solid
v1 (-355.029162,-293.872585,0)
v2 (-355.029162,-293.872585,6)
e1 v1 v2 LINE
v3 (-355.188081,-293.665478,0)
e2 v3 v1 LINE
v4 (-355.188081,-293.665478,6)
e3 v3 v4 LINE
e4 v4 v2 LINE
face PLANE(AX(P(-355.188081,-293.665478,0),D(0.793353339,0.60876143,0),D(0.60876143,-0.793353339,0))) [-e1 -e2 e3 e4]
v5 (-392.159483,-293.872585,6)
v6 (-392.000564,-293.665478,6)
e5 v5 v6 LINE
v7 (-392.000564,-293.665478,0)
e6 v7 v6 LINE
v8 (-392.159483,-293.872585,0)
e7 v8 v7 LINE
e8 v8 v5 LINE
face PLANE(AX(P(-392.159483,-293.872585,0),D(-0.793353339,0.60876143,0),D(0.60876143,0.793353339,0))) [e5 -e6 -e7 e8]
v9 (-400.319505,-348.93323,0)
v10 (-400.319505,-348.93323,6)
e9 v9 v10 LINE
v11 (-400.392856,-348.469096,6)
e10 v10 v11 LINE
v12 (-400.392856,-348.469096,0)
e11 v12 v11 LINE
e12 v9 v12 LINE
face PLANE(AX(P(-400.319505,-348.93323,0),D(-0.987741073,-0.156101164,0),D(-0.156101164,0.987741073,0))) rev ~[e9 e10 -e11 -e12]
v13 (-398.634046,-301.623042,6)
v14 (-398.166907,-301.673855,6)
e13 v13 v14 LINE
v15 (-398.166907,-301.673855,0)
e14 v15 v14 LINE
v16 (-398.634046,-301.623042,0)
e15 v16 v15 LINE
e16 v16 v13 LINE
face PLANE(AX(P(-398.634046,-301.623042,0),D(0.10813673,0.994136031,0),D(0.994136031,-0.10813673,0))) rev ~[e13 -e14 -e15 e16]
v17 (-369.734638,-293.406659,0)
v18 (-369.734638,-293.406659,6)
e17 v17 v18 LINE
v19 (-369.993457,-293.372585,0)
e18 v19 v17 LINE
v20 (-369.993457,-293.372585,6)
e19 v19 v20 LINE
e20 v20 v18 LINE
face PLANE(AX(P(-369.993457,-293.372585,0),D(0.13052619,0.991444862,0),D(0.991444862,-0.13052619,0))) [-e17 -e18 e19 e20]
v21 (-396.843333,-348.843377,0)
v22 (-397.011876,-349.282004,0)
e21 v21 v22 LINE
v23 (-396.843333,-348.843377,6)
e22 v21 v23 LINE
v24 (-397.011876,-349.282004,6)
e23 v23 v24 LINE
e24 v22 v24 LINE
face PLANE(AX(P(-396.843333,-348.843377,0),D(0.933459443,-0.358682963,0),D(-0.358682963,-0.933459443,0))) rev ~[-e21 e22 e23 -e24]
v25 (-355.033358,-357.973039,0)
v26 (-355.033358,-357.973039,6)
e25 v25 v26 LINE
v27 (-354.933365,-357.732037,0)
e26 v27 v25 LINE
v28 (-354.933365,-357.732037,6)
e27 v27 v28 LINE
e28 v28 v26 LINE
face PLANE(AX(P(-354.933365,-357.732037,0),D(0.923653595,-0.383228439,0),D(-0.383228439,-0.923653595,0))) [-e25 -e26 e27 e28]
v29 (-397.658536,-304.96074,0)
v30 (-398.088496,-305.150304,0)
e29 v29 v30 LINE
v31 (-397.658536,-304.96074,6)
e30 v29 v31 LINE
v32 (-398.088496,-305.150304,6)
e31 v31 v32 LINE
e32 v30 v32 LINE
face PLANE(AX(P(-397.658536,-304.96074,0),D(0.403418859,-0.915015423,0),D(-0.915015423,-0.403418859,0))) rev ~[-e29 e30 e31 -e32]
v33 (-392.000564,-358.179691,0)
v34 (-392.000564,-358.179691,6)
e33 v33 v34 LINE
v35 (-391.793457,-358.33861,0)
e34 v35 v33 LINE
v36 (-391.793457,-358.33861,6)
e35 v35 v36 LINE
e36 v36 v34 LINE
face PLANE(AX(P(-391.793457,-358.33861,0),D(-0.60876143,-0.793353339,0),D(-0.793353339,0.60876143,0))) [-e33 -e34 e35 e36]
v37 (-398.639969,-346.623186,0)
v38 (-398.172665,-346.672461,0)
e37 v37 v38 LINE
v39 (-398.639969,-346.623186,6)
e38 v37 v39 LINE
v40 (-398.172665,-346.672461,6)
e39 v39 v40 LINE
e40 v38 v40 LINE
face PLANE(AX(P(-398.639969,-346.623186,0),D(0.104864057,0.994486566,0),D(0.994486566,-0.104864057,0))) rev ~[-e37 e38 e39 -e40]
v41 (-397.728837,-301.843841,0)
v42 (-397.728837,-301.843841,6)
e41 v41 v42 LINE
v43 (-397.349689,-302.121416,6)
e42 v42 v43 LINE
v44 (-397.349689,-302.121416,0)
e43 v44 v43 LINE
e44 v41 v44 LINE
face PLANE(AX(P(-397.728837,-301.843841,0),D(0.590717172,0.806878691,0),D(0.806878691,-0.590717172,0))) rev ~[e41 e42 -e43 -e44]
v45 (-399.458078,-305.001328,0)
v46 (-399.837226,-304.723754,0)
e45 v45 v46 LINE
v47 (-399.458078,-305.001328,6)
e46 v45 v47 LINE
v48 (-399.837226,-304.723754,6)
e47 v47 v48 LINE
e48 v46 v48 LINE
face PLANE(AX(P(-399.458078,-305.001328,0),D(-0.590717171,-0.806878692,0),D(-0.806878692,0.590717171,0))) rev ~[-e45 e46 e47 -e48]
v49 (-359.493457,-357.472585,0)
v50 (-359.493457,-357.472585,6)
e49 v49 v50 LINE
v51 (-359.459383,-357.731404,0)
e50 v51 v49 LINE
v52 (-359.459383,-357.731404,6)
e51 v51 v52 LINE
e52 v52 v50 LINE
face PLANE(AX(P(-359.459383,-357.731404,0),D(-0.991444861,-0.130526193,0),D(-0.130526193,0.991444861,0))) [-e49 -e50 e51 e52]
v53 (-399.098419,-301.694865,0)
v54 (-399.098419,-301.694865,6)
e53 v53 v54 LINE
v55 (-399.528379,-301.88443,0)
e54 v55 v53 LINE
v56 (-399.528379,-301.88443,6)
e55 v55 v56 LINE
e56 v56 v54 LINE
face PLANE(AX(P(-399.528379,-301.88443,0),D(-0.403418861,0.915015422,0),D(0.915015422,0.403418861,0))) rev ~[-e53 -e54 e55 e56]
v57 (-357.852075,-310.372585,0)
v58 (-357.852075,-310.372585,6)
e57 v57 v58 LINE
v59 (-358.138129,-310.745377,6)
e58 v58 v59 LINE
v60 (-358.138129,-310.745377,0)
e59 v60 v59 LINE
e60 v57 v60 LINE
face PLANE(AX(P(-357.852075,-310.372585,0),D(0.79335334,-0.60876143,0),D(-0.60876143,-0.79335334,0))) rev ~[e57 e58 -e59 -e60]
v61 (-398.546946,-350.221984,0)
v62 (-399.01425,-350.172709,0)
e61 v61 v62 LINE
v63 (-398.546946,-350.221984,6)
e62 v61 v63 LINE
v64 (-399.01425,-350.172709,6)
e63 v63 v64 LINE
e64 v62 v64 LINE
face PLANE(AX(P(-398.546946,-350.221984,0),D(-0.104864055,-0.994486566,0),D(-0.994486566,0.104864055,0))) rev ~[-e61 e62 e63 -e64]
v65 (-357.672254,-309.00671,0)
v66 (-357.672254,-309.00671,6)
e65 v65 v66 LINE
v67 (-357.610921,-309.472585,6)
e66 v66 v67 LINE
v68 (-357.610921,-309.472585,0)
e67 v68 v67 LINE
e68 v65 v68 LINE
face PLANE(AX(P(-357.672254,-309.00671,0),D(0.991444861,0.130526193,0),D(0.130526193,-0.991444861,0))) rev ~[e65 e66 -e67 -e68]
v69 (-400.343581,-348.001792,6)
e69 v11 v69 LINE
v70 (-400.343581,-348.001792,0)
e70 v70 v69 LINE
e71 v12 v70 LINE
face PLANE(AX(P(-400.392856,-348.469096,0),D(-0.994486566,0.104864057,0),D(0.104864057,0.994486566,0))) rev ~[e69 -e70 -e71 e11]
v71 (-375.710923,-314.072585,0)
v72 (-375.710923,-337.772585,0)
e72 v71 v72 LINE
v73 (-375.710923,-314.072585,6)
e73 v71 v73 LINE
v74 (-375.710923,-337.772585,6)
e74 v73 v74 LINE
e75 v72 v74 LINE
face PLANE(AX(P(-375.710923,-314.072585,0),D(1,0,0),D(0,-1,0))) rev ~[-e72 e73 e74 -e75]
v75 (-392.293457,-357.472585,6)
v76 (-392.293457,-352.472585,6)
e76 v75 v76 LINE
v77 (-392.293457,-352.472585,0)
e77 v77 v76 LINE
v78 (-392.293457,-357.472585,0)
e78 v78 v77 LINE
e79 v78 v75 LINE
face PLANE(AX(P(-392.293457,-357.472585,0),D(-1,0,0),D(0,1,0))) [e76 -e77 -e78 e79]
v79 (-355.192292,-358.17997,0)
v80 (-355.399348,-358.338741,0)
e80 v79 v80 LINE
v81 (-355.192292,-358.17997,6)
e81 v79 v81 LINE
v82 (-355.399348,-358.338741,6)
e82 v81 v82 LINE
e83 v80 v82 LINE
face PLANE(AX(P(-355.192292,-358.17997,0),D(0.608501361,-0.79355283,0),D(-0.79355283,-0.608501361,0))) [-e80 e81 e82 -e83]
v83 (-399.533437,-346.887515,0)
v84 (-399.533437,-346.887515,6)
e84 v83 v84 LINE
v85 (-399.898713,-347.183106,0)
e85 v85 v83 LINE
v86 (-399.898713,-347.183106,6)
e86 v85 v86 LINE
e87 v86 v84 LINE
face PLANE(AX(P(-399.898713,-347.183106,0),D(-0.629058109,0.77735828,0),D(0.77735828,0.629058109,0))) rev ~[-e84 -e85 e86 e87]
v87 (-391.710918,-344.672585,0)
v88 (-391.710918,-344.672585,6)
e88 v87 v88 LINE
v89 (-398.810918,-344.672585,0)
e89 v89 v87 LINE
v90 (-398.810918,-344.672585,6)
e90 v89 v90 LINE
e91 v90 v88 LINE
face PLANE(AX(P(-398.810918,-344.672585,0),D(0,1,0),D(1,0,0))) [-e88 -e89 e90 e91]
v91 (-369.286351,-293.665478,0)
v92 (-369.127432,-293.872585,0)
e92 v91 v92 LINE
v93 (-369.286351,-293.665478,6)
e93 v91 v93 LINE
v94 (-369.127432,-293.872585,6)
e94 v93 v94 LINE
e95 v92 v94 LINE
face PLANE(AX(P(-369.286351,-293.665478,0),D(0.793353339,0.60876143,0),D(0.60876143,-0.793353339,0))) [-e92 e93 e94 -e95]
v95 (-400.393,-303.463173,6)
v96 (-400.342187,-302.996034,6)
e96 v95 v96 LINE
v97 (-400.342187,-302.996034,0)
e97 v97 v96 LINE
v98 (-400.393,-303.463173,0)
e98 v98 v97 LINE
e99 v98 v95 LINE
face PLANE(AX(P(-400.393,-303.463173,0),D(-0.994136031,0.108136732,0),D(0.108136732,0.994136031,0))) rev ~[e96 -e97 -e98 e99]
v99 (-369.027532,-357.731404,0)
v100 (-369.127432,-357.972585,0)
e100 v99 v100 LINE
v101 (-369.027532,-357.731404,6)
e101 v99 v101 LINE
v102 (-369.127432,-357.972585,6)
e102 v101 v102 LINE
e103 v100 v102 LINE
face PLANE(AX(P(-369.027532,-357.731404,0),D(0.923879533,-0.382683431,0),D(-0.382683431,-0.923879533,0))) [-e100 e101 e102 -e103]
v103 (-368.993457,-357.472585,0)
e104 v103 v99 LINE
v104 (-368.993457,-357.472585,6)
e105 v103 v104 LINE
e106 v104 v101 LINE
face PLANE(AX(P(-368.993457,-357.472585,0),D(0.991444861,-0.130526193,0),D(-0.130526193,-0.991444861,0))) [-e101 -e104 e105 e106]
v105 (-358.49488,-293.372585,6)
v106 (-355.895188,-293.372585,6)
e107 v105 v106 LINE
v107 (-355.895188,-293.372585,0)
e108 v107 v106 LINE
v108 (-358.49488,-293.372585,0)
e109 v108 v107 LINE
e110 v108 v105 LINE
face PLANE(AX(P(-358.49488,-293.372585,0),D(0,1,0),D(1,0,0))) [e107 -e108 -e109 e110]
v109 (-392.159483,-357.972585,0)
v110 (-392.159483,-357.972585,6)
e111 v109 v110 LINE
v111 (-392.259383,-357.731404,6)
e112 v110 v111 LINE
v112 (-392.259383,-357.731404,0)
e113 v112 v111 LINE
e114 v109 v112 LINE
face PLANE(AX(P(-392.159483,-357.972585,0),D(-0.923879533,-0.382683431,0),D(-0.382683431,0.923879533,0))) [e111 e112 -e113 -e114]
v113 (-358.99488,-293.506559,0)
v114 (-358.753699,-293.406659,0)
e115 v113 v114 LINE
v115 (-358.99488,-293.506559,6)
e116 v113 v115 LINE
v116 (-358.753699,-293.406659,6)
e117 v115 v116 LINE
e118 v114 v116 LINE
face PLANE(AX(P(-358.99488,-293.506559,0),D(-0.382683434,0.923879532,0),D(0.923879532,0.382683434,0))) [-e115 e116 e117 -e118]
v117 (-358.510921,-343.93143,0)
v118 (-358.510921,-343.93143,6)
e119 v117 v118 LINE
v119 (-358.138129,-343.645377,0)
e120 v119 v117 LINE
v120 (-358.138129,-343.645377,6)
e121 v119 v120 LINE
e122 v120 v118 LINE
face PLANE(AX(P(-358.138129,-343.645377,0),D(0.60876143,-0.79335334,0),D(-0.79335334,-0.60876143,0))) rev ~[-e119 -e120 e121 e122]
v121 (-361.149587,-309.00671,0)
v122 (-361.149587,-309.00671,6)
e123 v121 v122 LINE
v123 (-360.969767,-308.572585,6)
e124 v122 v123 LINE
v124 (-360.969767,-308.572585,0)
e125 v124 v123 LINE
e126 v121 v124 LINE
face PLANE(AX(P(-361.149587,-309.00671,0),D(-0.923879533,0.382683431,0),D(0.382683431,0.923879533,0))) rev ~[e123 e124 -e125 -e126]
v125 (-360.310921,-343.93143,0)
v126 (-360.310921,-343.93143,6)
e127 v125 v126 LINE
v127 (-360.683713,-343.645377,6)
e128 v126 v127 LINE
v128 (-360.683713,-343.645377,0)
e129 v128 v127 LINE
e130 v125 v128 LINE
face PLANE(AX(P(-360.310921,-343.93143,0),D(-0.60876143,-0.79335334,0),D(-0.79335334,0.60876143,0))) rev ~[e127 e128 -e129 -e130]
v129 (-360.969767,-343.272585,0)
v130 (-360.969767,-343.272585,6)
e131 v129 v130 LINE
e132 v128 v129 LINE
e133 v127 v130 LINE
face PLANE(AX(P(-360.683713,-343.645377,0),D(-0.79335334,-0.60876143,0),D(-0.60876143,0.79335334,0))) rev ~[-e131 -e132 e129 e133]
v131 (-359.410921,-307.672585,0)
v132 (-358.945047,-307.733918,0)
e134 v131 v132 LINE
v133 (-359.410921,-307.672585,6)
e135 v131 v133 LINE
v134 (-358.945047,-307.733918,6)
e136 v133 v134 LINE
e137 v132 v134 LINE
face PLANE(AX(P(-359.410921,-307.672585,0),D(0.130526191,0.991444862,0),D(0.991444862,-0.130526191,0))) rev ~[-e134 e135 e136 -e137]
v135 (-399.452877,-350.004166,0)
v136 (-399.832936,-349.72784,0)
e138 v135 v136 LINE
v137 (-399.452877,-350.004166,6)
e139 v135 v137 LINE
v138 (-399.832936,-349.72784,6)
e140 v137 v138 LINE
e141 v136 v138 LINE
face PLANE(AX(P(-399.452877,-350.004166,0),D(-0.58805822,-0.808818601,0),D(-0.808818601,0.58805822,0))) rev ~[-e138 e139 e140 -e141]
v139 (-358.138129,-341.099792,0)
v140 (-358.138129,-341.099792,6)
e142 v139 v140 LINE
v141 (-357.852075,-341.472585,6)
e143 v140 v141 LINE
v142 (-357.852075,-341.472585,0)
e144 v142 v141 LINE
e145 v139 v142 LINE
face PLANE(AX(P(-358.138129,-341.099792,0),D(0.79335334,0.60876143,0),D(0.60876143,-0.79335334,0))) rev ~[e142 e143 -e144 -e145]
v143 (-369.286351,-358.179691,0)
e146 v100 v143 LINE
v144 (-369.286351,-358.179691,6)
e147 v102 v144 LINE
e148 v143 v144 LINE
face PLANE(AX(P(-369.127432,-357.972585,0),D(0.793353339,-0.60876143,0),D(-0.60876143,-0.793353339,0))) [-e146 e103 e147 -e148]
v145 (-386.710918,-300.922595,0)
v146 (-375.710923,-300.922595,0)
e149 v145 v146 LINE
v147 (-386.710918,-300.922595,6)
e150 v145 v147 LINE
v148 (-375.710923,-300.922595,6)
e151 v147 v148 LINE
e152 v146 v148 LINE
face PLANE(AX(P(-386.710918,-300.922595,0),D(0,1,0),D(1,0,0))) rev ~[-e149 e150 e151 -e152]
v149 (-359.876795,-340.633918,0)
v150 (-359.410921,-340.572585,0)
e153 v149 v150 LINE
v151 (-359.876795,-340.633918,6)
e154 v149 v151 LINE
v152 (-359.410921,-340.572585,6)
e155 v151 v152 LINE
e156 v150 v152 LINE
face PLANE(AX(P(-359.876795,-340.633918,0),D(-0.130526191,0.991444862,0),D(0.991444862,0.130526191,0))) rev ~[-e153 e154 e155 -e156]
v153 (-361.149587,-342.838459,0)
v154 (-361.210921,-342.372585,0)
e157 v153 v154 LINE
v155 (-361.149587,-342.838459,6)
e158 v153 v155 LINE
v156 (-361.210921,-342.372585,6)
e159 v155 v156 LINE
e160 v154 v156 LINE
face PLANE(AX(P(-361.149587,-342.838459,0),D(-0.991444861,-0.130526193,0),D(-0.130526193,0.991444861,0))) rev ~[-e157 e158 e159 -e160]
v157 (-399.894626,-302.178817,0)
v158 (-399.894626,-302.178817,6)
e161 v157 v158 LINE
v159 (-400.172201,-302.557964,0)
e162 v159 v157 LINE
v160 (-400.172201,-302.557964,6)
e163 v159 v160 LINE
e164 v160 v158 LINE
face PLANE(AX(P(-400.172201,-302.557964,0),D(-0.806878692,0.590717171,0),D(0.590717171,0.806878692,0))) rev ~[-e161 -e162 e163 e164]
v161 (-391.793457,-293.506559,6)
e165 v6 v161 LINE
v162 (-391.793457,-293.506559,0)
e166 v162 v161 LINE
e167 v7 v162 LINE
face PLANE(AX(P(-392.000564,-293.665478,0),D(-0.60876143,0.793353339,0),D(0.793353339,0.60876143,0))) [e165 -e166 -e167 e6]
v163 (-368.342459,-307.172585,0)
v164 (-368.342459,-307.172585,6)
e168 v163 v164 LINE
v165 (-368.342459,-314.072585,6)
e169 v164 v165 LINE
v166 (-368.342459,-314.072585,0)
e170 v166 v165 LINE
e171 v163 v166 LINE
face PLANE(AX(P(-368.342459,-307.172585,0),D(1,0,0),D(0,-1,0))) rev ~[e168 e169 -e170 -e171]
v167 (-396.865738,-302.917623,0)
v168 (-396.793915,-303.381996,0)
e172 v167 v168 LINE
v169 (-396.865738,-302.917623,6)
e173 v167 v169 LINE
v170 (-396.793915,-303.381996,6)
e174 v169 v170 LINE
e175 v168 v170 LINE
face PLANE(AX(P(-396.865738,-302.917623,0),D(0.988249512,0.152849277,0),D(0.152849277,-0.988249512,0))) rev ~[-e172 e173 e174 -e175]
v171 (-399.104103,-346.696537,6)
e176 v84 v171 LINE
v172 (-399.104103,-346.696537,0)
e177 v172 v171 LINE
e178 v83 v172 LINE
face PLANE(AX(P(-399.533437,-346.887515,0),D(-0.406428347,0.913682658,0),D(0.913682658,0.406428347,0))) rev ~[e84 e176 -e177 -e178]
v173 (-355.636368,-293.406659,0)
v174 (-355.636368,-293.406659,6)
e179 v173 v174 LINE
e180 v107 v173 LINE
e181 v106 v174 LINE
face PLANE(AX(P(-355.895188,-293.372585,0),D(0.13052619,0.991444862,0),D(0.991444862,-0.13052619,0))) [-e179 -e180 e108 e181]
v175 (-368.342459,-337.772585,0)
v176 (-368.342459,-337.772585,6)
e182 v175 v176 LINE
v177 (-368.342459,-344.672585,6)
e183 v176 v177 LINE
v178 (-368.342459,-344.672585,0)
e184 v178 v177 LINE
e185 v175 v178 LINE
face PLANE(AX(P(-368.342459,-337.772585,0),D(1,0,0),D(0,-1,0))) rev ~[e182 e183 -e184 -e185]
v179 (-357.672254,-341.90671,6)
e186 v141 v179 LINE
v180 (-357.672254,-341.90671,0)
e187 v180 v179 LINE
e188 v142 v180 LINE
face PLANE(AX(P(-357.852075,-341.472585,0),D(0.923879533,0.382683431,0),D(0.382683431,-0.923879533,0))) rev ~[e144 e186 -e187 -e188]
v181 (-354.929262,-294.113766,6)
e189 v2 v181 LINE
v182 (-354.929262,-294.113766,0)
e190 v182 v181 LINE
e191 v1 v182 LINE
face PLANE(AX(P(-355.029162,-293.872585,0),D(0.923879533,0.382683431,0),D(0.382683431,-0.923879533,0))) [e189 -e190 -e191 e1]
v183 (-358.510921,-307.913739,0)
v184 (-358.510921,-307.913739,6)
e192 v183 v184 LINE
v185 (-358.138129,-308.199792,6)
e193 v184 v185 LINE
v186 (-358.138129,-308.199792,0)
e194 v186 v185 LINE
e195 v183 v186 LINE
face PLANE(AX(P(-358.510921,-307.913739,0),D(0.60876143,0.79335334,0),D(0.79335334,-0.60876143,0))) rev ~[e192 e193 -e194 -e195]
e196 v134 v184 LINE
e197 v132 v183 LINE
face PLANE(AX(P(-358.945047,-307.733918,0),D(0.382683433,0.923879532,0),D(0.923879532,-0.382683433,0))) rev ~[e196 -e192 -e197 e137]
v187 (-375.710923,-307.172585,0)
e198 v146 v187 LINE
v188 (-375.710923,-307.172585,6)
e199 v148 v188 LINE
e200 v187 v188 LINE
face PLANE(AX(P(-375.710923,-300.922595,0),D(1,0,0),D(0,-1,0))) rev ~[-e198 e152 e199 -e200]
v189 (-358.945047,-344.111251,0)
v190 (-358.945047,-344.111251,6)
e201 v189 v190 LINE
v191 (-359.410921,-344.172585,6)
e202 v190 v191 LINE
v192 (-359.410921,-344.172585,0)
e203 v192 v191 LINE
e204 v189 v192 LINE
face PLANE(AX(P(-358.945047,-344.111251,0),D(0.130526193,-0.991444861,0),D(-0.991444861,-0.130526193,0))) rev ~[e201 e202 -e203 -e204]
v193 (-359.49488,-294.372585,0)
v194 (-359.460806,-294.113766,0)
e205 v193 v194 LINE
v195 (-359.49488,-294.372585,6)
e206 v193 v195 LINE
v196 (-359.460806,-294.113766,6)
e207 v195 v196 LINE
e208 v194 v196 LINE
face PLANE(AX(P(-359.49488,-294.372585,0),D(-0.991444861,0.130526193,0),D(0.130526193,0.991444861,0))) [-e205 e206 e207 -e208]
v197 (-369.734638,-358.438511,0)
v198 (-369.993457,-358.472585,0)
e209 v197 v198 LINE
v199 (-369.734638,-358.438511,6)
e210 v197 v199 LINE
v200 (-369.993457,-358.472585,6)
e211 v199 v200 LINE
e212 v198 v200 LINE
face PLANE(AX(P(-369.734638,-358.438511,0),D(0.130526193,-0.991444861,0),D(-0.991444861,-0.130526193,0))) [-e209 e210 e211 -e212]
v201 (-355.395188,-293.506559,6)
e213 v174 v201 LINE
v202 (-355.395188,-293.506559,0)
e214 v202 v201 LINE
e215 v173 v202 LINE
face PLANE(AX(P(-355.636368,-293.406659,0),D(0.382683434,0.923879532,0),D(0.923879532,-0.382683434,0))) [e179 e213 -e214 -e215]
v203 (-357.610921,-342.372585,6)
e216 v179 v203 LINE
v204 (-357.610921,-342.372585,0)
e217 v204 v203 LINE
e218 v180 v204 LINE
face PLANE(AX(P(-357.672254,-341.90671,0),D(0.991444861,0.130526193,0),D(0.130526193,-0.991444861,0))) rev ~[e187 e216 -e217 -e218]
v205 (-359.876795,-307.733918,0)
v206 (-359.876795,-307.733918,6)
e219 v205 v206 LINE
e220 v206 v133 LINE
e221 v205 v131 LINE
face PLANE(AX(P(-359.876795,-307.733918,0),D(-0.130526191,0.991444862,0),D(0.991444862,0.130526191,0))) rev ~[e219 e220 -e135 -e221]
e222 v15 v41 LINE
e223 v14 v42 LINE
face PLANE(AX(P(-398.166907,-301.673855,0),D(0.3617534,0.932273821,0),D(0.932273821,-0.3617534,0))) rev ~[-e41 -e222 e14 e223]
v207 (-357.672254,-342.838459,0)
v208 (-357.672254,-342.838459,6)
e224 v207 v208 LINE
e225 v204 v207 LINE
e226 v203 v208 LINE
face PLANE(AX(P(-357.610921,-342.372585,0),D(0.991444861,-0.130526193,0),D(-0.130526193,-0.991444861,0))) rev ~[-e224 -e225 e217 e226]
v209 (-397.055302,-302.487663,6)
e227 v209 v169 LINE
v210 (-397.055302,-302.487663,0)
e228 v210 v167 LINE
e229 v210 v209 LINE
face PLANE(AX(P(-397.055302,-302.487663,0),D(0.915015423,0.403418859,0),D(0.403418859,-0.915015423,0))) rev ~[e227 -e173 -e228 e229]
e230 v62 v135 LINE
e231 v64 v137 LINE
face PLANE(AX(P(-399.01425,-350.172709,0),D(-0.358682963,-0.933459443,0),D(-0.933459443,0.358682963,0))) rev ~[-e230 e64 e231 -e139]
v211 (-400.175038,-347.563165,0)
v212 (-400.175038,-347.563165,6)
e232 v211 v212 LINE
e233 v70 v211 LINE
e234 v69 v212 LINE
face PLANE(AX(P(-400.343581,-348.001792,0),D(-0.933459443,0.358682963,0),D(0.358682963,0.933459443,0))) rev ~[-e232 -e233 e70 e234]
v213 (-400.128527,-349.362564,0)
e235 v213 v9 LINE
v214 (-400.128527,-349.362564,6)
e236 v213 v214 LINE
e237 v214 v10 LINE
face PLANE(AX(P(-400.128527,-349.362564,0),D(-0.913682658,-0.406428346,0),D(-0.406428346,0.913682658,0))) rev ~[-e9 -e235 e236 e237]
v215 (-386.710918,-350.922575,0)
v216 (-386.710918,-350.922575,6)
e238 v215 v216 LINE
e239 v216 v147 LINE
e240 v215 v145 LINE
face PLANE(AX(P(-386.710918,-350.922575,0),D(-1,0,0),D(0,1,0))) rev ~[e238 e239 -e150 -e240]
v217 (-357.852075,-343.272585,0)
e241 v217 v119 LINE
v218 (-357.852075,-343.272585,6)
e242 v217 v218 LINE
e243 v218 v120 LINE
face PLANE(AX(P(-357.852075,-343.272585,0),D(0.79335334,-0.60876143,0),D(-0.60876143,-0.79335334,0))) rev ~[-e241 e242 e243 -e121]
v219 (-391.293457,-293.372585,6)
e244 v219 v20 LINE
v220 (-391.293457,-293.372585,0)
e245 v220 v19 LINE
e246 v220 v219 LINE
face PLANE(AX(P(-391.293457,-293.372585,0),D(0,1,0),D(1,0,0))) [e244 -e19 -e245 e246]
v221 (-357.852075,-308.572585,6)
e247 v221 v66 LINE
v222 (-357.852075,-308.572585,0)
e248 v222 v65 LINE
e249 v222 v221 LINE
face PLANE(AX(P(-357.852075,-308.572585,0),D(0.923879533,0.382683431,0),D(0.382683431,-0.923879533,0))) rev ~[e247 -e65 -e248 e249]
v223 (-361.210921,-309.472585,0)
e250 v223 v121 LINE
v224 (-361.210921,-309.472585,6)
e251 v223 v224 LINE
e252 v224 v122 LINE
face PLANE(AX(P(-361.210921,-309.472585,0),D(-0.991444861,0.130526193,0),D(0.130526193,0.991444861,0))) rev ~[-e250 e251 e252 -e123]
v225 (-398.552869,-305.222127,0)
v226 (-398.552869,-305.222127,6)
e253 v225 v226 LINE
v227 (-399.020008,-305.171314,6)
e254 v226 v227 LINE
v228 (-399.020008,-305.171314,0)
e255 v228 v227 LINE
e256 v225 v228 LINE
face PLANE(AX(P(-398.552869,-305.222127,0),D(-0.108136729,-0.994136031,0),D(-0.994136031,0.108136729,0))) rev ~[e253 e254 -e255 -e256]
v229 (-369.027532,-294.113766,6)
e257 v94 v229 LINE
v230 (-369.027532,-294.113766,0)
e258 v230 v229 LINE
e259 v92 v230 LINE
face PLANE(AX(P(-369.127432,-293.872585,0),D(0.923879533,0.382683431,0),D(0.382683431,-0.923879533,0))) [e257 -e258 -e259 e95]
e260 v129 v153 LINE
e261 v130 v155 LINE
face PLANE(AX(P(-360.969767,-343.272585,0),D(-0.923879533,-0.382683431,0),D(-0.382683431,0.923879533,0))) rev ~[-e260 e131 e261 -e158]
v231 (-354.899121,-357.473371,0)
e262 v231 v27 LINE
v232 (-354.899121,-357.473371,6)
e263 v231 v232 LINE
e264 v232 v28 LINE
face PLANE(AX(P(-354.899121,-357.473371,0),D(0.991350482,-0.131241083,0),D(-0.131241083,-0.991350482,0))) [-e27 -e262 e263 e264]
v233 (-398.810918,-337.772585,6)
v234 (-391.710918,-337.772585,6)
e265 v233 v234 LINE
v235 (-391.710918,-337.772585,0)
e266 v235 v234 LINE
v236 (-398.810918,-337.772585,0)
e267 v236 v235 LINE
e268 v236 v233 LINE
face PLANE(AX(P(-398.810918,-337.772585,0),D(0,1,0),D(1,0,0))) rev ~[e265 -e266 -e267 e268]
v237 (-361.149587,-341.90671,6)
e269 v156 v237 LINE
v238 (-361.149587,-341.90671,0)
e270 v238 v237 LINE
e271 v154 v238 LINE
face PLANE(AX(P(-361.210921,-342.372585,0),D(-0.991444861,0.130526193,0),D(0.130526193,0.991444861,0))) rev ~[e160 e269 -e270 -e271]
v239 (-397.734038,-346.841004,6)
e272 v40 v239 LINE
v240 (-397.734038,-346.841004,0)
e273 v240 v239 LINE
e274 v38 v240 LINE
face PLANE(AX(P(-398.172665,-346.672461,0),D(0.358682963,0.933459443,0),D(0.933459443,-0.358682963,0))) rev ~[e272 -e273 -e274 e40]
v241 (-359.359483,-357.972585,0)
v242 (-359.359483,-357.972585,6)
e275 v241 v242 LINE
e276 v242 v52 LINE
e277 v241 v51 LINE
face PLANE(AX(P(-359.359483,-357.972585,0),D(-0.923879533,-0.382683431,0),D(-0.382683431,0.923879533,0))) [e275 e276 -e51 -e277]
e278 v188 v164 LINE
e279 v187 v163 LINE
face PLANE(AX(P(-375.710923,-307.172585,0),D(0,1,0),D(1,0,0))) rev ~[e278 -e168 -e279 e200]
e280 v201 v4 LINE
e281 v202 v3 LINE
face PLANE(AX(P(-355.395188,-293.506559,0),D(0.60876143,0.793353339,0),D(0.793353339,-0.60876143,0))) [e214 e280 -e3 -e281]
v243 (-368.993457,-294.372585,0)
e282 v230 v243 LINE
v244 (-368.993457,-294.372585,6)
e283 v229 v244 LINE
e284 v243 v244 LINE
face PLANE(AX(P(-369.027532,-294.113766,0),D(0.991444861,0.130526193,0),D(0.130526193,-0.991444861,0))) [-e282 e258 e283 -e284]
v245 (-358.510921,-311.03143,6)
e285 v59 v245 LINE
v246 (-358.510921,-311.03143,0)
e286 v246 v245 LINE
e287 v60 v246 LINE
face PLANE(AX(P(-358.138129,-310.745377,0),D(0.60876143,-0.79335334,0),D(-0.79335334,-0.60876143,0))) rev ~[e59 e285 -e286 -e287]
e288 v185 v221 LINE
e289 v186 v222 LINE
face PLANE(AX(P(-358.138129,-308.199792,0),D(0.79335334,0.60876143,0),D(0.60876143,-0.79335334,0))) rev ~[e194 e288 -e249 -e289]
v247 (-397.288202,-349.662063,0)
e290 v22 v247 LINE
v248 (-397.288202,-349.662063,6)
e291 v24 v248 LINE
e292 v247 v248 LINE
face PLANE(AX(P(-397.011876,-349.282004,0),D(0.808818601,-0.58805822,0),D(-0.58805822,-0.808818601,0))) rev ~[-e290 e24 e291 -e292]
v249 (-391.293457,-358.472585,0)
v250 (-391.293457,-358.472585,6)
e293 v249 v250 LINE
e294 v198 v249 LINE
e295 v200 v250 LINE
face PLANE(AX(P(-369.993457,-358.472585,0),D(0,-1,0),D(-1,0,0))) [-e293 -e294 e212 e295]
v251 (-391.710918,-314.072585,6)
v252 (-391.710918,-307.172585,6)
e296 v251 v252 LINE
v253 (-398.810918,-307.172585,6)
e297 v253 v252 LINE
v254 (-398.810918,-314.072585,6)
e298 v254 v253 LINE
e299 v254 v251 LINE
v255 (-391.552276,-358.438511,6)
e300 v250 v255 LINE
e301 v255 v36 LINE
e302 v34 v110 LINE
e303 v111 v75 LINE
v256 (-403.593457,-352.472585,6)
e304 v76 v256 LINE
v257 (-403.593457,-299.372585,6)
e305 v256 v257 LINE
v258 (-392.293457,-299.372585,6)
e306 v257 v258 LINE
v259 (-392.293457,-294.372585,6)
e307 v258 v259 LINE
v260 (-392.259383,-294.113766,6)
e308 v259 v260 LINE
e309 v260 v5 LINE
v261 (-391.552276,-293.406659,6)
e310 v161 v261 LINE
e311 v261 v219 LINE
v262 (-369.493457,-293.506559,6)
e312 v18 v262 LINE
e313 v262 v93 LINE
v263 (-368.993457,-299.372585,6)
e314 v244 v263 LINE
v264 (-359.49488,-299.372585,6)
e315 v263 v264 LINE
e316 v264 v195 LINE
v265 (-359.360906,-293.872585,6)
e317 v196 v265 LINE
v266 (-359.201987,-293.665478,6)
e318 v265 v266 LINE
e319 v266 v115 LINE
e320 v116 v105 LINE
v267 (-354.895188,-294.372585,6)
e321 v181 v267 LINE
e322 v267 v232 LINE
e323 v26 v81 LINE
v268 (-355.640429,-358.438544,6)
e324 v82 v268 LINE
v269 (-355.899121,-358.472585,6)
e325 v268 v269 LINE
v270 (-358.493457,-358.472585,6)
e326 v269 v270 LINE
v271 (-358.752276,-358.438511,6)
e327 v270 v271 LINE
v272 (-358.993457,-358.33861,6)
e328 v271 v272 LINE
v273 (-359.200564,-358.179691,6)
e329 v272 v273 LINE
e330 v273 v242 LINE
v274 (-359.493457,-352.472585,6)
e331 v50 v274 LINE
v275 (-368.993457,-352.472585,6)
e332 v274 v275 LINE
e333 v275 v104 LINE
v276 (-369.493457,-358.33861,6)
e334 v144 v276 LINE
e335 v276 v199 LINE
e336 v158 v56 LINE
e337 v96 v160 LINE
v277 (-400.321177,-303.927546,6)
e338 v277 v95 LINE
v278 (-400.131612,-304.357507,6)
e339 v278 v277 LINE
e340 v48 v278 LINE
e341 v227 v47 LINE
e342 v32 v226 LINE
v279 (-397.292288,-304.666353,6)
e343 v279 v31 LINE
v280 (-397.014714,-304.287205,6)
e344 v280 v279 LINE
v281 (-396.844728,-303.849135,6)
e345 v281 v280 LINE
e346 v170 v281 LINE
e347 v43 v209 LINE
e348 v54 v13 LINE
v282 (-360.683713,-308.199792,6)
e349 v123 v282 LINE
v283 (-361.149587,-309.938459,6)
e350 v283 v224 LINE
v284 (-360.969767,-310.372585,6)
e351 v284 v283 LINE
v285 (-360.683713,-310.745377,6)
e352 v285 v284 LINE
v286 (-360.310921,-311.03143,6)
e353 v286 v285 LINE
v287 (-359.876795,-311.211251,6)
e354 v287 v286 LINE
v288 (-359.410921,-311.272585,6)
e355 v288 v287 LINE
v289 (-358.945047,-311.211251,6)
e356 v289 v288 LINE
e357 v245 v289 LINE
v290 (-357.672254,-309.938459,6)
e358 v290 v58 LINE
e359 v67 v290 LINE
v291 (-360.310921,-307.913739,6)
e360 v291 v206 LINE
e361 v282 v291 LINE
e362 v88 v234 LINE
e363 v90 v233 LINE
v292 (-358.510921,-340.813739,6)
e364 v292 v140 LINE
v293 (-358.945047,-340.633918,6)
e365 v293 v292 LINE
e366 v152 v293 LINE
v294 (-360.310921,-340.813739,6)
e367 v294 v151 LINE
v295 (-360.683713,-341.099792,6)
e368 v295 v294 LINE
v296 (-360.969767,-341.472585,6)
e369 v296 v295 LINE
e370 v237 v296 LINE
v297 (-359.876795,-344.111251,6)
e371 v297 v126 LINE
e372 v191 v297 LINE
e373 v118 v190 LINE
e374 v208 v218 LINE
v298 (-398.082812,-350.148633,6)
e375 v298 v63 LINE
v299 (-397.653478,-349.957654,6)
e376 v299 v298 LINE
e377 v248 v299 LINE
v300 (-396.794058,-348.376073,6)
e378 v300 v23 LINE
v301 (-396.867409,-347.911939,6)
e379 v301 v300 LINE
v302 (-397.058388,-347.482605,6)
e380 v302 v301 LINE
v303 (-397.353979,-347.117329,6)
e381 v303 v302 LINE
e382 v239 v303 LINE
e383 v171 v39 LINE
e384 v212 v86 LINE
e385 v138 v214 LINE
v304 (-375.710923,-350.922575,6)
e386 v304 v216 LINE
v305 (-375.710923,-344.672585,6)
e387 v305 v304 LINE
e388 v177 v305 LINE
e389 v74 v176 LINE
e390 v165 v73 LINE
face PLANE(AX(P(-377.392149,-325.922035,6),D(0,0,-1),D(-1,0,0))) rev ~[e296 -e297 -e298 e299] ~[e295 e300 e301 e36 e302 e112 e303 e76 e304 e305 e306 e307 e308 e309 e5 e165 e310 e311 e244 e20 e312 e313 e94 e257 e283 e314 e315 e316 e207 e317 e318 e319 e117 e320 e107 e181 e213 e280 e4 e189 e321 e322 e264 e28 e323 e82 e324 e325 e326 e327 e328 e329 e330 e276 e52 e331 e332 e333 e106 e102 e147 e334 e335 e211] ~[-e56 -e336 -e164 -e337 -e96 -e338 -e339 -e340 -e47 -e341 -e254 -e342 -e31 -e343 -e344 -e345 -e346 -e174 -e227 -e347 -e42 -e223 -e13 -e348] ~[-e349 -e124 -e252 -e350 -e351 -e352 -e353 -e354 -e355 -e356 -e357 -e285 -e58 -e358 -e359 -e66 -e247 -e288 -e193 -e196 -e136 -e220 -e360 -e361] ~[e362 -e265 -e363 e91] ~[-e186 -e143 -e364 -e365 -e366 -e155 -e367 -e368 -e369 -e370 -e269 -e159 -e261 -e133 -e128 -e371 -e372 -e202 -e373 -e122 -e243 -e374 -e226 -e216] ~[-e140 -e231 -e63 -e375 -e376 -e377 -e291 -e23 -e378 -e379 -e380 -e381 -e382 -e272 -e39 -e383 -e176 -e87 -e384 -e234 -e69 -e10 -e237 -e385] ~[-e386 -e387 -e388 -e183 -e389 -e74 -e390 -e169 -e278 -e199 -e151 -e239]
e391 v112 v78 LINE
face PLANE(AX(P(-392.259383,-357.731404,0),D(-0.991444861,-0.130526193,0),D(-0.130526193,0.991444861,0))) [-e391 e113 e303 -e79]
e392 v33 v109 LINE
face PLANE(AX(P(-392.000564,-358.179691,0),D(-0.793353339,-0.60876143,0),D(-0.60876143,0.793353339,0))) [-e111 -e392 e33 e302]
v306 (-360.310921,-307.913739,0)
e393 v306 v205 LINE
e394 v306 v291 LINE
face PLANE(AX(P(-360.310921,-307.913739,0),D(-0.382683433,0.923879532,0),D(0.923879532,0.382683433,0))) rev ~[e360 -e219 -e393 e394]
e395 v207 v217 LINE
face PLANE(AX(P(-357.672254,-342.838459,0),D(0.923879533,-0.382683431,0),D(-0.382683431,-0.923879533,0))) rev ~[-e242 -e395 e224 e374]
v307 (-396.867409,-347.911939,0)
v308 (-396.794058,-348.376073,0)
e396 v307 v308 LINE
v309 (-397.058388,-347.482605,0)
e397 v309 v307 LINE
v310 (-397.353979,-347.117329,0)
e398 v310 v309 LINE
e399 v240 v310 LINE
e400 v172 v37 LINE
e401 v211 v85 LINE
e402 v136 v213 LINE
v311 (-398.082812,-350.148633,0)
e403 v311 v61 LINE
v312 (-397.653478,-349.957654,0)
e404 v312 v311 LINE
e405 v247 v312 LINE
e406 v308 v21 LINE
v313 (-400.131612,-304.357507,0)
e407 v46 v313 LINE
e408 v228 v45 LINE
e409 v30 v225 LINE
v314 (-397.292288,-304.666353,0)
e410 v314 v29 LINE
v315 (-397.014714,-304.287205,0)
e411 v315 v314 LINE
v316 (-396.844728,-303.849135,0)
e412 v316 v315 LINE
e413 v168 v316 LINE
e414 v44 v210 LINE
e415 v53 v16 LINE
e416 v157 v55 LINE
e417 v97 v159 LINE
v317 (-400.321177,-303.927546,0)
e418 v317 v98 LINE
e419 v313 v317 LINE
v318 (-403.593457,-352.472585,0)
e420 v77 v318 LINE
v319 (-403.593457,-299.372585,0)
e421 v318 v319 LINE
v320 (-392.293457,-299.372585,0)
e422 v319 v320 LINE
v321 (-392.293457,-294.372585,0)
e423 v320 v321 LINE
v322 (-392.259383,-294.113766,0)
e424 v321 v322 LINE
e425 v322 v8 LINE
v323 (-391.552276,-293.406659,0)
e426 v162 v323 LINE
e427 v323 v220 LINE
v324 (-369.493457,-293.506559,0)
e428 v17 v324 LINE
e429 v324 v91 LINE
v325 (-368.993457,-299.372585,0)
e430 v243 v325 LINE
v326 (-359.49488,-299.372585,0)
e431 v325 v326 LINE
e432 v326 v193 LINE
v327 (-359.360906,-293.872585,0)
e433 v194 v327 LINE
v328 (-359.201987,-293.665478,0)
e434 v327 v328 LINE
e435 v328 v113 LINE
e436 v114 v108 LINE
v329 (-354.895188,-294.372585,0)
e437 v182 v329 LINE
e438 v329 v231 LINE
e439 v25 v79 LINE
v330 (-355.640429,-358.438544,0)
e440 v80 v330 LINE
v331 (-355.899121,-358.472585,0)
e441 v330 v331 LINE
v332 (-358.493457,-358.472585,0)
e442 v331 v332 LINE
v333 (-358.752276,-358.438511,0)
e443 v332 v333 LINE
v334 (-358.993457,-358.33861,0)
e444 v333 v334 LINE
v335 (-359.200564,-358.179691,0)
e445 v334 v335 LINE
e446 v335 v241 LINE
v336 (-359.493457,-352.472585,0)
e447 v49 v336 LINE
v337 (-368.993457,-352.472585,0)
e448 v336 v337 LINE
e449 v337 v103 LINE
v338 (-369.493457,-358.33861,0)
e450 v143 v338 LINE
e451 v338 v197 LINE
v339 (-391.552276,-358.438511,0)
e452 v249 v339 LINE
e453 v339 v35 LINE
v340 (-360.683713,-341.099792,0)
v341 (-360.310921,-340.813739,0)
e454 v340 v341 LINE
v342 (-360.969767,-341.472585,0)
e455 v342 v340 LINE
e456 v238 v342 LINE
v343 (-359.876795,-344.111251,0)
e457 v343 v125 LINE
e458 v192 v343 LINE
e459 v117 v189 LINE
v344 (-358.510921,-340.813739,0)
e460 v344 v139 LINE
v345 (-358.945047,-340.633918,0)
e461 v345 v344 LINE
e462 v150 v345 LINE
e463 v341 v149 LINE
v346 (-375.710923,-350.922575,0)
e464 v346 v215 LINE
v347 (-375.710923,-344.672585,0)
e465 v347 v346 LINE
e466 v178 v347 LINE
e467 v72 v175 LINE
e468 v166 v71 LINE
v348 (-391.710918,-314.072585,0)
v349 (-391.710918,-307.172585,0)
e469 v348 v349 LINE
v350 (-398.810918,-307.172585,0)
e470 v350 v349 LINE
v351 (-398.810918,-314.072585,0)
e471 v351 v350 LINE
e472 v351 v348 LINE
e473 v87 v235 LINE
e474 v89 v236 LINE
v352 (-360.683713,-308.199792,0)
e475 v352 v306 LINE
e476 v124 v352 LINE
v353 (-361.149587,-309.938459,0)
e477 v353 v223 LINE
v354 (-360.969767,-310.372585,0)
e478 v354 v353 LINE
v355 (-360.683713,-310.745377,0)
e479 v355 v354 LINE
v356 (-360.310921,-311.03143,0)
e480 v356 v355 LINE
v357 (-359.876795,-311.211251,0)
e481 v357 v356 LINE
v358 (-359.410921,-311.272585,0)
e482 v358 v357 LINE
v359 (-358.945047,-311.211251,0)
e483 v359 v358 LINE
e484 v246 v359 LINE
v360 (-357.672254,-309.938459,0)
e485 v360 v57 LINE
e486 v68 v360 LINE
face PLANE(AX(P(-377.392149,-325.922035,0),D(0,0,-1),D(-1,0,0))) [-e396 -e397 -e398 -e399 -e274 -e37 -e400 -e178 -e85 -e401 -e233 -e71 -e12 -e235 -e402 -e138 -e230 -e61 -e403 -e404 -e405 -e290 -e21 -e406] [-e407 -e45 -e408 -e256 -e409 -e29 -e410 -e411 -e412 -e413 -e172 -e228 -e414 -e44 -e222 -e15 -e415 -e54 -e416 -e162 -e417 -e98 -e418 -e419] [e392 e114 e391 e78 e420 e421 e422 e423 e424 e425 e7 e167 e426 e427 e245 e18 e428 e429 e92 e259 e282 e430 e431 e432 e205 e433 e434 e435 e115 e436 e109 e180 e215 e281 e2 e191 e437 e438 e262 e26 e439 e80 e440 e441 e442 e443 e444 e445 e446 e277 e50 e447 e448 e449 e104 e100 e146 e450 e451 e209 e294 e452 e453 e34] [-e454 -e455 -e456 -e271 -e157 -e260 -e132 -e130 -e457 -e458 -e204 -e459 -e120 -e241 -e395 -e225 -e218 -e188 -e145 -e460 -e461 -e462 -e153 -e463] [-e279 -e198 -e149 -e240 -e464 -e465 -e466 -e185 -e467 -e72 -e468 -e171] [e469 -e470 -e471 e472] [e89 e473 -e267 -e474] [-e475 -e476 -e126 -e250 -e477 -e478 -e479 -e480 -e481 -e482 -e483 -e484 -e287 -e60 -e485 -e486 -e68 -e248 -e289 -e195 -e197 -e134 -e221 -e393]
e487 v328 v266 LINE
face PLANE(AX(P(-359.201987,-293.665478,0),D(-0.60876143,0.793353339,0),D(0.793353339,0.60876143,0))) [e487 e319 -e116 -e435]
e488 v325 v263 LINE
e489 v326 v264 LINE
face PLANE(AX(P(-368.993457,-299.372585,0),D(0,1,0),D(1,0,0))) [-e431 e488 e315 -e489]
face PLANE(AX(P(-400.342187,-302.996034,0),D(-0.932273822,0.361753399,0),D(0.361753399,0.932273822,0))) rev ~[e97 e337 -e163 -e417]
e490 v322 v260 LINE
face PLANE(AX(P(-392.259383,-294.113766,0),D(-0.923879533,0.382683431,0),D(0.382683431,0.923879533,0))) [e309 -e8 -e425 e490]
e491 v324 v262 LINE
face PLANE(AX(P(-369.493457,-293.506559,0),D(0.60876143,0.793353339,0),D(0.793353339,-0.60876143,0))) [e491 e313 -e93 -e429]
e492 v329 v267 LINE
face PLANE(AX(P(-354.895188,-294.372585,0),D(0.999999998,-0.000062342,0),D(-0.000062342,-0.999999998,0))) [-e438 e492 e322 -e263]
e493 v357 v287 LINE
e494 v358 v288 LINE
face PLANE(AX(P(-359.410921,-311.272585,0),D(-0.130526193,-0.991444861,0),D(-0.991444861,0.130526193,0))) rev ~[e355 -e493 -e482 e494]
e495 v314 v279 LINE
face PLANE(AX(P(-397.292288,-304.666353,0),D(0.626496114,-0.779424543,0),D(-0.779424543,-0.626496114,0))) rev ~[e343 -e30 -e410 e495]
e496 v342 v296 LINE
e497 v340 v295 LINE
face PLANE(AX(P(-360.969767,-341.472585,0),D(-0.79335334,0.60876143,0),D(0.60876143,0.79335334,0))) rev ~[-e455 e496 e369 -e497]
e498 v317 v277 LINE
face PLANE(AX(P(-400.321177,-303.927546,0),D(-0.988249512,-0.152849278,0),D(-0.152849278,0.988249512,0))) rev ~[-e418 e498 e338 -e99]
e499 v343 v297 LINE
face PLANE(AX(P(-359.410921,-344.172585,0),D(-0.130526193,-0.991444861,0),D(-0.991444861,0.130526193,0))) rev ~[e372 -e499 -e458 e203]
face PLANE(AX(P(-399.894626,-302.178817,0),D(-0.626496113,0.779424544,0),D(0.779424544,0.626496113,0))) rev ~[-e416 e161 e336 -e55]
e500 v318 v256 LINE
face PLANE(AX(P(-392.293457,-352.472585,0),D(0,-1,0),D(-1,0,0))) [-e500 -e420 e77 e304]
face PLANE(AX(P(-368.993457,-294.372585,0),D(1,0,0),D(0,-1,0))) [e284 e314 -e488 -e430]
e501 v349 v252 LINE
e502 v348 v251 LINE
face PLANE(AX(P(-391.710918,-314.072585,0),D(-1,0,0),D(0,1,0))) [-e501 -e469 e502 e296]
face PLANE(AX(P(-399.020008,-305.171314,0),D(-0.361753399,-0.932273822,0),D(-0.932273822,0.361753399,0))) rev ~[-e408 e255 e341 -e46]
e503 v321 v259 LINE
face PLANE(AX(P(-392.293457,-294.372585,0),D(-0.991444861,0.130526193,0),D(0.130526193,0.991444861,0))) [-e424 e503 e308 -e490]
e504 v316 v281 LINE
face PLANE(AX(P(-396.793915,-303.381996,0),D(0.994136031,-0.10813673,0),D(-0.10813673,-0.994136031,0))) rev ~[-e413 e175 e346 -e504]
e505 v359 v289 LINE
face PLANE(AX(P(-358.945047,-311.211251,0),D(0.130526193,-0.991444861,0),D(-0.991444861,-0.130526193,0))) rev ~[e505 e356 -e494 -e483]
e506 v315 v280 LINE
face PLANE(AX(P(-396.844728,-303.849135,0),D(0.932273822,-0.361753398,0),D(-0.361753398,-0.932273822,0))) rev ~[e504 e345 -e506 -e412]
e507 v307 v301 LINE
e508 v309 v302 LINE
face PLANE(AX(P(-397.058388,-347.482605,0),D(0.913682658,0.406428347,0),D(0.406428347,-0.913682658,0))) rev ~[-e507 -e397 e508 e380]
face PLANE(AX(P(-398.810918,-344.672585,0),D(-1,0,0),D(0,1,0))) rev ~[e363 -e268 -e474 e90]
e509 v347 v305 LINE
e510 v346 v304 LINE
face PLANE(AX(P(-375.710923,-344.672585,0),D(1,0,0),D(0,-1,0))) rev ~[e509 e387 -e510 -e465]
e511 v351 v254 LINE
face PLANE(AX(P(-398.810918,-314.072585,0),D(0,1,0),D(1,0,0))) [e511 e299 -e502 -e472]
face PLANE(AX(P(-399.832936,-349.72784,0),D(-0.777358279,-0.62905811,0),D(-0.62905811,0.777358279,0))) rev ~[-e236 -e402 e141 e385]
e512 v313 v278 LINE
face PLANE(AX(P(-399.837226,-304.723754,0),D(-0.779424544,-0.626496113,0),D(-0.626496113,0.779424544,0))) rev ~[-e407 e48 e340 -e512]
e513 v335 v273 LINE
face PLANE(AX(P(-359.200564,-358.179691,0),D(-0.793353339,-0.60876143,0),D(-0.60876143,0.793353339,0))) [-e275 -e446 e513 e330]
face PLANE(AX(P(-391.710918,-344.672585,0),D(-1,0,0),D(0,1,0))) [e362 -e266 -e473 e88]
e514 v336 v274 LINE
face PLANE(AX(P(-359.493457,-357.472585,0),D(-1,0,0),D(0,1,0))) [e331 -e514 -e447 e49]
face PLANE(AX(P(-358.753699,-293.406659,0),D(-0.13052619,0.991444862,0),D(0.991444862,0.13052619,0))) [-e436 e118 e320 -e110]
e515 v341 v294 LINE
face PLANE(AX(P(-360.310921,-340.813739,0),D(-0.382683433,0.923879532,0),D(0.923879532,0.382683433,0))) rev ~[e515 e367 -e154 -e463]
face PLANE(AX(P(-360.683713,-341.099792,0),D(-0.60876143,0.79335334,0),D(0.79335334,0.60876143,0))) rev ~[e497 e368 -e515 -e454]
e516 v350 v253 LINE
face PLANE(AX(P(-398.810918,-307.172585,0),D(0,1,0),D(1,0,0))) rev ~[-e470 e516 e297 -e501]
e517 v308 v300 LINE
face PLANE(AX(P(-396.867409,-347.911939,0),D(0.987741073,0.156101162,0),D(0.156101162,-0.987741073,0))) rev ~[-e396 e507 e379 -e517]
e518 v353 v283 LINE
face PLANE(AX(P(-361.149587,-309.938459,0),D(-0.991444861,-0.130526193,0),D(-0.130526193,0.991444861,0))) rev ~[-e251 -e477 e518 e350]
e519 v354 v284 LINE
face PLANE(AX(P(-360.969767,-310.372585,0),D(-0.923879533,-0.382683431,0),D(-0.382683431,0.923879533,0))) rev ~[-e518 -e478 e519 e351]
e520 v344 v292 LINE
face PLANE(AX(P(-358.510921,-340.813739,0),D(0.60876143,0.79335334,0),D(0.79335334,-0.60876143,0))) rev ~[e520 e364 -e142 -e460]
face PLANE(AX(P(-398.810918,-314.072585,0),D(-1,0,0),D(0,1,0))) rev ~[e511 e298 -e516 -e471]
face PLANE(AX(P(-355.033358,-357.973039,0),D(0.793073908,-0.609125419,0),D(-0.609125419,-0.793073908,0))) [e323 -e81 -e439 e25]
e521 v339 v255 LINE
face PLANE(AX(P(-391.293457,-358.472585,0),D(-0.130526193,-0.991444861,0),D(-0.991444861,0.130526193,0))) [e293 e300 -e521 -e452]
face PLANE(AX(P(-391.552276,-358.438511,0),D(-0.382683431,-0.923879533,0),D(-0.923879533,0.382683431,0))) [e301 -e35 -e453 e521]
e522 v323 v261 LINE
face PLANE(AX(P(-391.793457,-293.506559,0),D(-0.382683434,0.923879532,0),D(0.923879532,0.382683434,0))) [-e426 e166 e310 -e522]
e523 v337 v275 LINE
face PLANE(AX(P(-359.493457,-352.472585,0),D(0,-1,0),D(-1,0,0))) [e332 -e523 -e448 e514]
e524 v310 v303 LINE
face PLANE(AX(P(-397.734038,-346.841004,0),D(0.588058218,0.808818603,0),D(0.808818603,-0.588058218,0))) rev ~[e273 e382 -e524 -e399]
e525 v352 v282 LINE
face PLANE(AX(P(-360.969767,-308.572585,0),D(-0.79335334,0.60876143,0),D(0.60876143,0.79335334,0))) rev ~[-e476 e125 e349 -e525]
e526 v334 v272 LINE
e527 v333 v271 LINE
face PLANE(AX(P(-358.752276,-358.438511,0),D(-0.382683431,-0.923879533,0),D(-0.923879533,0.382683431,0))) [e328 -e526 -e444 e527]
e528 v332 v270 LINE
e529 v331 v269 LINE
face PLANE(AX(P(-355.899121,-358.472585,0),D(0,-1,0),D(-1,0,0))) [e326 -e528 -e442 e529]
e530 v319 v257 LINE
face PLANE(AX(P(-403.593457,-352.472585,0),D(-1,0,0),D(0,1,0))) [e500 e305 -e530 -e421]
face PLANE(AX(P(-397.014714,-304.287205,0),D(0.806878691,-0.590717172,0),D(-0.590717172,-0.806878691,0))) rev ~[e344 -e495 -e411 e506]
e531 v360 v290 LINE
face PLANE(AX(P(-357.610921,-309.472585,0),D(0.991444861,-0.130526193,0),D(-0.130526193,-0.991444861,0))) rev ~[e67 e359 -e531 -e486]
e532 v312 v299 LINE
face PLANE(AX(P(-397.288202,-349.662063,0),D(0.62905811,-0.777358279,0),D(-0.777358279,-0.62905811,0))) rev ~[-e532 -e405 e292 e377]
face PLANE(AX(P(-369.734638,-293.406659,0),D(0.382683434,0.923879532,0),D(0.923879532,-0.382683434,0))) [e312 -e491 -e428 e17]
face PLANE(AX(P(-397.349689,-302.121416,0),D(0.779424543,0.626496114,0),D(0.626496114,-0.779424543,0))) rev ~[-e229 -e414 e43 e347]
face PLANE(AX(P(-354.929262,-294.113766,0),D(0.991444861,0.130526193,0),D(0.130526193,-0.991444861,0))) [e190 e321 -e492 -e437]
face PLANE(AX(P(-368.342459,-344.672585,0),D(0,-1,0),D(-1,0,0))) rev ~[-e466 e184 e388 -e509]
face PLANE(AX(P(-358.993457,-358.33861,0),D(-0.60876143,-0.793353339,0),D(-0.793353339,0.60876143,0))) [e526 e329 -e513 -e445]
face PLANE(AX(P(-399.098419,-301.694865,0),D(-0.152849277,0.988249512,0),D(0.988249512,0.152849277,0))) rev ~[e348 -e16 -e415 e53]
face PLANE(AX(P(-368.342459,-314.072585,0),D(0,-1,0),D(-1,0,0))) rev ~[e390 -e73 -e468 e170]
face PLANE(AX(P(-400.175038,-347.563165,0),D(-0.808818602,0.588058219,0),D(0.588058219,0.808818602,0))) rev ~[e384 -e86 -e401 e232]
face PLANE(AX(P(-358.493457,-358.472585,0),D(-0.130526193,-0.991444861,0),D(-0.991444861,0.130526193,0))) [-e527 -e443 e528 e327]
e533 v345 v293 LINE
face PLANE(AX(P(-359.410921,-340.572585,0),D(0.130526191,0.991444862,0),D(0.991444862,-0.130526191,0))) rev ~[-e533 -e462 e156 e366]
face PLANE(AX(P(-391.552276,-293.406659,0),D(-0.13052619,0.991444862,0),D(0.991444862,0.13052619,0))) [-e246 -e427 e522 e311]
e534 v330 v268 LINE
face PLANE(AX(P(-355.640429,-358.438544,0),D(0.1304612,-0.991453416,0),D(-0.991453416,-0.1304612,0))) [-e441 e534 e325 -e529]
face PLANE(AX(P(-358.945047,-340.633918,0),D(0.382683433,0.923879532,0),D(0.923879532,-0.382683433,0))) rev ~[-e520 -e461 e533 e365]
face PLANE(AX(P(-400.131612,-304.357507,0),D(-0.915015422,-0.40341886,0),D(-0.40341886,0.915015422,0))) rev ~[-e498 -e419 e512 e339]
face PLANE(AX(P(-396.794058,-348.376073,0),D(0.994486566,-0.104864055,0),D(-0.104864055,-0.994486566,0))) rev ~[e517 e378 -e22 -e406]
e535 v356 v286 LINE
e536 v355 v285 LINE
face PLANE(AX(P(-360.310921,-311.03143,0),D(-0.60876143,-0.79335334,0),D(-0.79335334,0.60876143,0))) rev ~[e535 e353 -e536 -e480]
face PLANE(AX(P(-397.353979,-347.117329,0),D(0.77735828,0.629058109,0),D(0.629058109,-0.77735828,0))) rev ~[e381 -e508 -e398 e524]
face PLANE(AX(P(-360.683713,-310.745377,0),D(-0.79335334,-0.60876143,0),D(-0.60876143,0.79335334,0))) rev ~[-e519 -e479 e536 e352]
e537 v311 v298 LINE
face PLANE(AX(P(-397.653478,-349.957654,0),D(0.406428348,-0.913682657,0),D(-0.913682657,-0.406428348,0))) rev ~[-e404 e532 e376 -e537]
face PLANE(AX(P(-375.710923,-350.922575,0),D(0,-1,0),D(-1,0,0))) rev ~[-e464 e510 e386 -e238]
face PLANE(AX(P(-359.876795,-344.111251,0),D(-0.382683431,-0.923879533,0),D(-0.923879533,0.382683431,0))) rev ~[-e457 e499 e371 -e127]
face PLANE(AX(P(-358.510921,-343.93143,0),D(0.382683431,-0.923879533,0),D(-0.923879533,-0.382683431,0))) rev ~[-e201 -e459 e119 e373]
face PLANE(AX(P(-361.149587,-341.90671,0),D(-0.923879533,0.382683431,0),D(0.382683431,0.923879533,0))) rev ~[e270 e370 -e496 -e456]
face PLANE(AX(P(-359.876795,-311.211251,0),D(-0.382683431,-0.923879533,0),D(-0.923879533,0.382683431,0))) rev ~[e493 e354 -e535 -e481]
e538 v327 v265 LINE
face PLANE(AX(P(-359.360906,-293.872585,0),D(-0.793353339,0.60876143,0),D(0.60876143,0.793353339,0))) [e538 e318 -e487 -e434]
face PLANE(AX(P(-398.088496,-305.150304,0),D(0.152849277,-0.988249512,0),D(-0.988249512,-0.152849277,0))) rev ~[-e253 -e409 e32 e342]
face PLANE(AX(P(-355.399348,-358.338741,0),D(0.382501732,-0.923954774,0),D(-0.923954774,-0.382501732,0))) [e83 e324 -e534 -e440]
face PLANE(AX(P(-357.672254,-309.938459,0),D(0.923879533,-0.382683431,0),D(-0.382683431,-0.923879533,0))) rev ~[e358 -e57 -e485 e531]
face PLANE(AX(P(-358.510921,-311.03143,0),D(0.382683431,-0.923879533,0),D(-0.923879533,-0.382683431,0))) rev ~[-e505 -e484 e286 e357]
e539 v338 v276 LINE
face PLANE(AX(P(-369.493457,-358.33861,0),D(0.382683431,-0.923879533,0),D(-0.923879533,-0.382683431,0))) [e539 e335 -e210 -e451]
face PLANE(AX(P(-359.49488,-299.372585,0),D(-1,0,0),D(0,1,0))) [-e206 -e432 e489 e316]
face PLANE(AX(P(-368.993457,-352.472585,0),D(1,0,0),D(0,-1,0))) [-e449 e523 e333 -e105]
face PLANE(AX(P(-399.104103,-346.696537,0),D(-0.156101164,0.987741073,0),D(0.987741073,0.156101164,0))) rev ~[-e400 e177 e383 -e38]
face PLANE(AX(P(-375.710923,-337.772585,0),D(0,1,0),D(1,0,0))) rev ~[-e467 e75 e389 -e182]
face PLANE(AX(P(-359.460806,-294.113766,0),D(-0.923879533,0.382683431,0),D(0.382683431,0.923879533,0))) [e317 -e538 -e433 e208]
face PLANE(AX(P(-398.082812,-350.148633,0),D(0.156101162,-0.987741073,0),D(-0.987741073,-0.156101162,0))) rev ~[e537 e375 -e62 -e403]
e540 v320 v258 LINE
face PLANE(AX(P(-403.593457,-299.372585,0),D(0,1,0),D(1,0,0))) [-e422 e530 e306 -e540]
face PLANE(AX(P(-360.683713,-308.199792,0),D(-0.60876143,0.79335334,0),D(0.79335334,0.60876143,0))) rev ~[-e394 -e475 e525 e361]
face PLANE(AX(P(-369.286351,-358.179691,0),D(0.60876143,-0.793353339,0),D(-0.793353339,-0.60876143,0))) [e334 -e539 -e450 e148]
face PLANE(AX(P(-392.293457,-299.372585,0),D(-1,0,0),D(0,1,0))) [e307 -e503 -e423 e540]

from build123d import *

# Parameters (mm, degrees)
SKETCH1_W           = 7.1
SKETCH1_H           = 6.9
BOSS_EXTRUDE1_DEPTH = 6


with BuildPart() as part:
    # Sketch1 → Boss-Extrude1 (new body)
    with BuildSketch(Plane.XY):
        Polygon((-358.994880286, -293.50655928), (-358.753699331, -293.406658857), (-358.494880286, -293.372584684), (-355.895187501, -293.372584684), (-355.636368456, -293.406658857), (-355.395187501, -293.50655928), (-355.18808072, -293.665477903), (-355.029162097, -293.872584684), (-354.929261675, -294.113765639), (-354.895187501, -294.372584684), (-354.899121361, -357.473371332), (-354.933365099, -357.732036876), (-355.033357982, -357.973038786), (-355.192292447, -358.179969532), (-355.399348154, -358.338741166), (-355.640428649, -358.438544435), (-355.899121051, -358.472584684), (-358.493457382, -358.472584684), (-358.752276427, -358.43851051), (-358.993457382, -358.338610088), (-359.200564163, -358.179691465), (-359.359482786, -357.972584684), (-359.459383208, -357.731403729), (-359.493457382, -357.472584684), (-359.493457382, -352.472584684), (-368.993457382, -352.472584684), (-368.993457382, -357.472584684), (-369.027531556, -357.731403729), (-369.127431978, -357.972584684), (-369.286350601, -358.179691465), (-369.493457382, -358.338610088), (-369.734638337, -358.43851051), (-369.993457382, -358.472584684), (-391.293457382, -358.472584684), (-391.552276427, -358.43851051), (-391.793457382, -358.338610088), (-392.000564163, -358.179691465), (-392.159482786, -357.972584684), (-392.259383208, -357.731403729), (-392.293457382, -357.472584684), (-392.293457382, -352.472584684), (-403.593457382, -352.472584684), (-403.593457382, -299.372584684), (-392.293457382, -299.372584684), (-392.293457382, -294.372584684), (-392.259383208, -294.113765639), (-392.159482786, -293.872584684), (-392.000564163, -293.665477903), (-391.793457382, -293.50655928), (-391.552276427, -293.406658857), (-391.293457382, -293.372584684), (-369.993457382, -293.372584684), (-369.734638337, -293.406658857), (-369.493457382, -293.50655928), (-369.286350601, -293.665477903), (-369.127431978, -293.872584684), (-369.027531556, -294.113765639), (-368.993457382, -294.372584684), (-368.993457382, -299.372584684), (-359.494880286, -299.372584684), (-359.494880286, -294.372584684), (-359.460806112, -294.113765639), (-359.36090569, -293.872584684), (-359.201987067, -293.665477903), align=None)
        Polygon((-357.610920971, -342.372584684), (-357.672254484, -342.838458965), (-357.852075244, -343.272584684), (-358.138128765, -343.64537689), (-358.510920971, -343.931430411), (-358.94504669, -344.111251171), (-359.410920971, -344.172584684), (-359.876795252, -344.111251171), (-360.310920971, -343.931430411), (-360.683713177, -343.64537689), (-360.969766698, -343.272584684), (-361.149587458, -342.838458965), (-361.210920971, -342.372584684), (-361.149587458, -341.906710403), (-360.969766698, -341.472584684), (-360.683713177, -341.099792478), (-360.310920971, -340.813738957), (-359.876795252, -340.633918196), (-359.410920971, -340.572584684), (-358.94504669, -340.633918196), (-358.510920971, -340.813738957), (-358.138128765, -341.099792478), (-357.852075244, -341.472584684), (-357.672254484, -341.906710403), align=None, mode=Mode.SUBTRACT)
        Polygon((-397.058387805, -347.482605219), (-396.867409445, -347.911939484), (-396.7940584, -348.376073376), (-396.843333421, -348.843376937), (-397.011876498, -349.282004201), (-397.288201699, -349.662063445), (-397.653477917, -349.95765426), (-398.082812183, -350.148632621), (-398.546946075, -350.221983666), (-399.014249636, -350.172708645), (-399.4528769, -350.004165568), (-399.832936144, -349.727840367), (-400.128526959, -349.362564149), (-400.319505319, -348.933229883), (-400.392856365, -348.469095991), (-400.343581343, -348.00179243), (-400.175038266, -347.563165166), (-399.898713066, -347.183105922), (-399.533436847, -346.887515107), (-399.104102582, -346.696536747), (-398.63996869, -346.623185701), (-398.172665129, -346.672460723), (-397.734037865, -346.8410038), (-397.35397862, -347.117329), align=None, mode=Mode.SUBTRACT)
        with Locations((-395.260918473, -310.622584684)):
            Rectangle(SKETCH1_W, SKETCH1_H, mode=Mode.SUBTRACT)
        Polygon((-375.710923469, -337.772584684), (-368.342459311, -337.772584684), (-368.342459311, -344.672584684), (-375.710923469, -344.672584684), (-375.710923469, -350.922574533), (-386.710918473, -350.922574533), (-386.710918473, -300.922594835), (-375.710923469, -300.922594835), (-375.710923469, -307.172584684), (-368.342459311, -307.172584684), (-368.342459311, -314.072584684), (-375.710923469, -314.072584684), align=None, mode=Mode.SUBTRACT)
        Polygon((-358.138128765, -310.74537689), (-358.510920971, -311.031430411), (-358.94504669, -311.211251171), (-359.410920971, -311.272584684), (-359.876795252, -311.211251171), (-360.310920971, -311.031430411), (-360.683713177, -310.74537689), (-360.969766698, -310.372584684), (-361.149587458, -309.938458965), (-361.210920971, -309.472584684), (-361.149587458, -309.006710403), (-360.969766698, -308.572584684), (-360.683713177, -308.199792478), (-360.310920971, -307.913738957), (-359.876795252, -307.733918196), (-359.410920971, -307.672584684), (-358.94504669, -307.733918196), (-358.510920971, -307.913738957), (-358.138128765, -308.199792478), (-357.852075244, -308.572584684), (-357.672254484, -309.006710403), (-357.610920971, -309.472584684), (-357.672254484, -309.938458965), (-357.852075244, -310.372584684), align=None, mode=Mode.SUBTRACT)
        Polygon((-400.321176702, -303.927546021), (-400.392999705, -303.463173217), (-400.342186872, -302.99603437), (-400.172201015, -302.557964223), (-399.894626388, -302.178816531), (-399.528379244, -301.884429584), (-399.09841872, -301.694865364), (-398.634045915, -301.623042361), (-398.166907069, -301.673855193), (-397.728836921, -301.843841051), (-397.34968923, -302.121415678), (-397.055302282, -302.487662822), (-396.865738063, -302.917623346), (-396.79391506, -303.381996151), (-396.844727892, -303.849134997), (-397.014713749, -304.287205145), (-397.292288376, -304.666352836), (-397.65853552, -304.960739784), (-398.088496044, -305.150304003), (-398.552868849, -305.222127006), (-399.020007696, -305.171314174), (-399.458077843, -305.001328317), (-399.837225535, -304.72375369), (-400.131612482, -304.357506546), align=None, mode=Mode.SUBTRACT)
        with Locations((-395.260918473, -341.222584684)):
            Rectangle(SKETCH1_W, SKETCH1_H, mode=Mode.SUBTRACT)
    extrude(amount=BOSS_EXTRUDE1_DEPTH)


solid = part.part
